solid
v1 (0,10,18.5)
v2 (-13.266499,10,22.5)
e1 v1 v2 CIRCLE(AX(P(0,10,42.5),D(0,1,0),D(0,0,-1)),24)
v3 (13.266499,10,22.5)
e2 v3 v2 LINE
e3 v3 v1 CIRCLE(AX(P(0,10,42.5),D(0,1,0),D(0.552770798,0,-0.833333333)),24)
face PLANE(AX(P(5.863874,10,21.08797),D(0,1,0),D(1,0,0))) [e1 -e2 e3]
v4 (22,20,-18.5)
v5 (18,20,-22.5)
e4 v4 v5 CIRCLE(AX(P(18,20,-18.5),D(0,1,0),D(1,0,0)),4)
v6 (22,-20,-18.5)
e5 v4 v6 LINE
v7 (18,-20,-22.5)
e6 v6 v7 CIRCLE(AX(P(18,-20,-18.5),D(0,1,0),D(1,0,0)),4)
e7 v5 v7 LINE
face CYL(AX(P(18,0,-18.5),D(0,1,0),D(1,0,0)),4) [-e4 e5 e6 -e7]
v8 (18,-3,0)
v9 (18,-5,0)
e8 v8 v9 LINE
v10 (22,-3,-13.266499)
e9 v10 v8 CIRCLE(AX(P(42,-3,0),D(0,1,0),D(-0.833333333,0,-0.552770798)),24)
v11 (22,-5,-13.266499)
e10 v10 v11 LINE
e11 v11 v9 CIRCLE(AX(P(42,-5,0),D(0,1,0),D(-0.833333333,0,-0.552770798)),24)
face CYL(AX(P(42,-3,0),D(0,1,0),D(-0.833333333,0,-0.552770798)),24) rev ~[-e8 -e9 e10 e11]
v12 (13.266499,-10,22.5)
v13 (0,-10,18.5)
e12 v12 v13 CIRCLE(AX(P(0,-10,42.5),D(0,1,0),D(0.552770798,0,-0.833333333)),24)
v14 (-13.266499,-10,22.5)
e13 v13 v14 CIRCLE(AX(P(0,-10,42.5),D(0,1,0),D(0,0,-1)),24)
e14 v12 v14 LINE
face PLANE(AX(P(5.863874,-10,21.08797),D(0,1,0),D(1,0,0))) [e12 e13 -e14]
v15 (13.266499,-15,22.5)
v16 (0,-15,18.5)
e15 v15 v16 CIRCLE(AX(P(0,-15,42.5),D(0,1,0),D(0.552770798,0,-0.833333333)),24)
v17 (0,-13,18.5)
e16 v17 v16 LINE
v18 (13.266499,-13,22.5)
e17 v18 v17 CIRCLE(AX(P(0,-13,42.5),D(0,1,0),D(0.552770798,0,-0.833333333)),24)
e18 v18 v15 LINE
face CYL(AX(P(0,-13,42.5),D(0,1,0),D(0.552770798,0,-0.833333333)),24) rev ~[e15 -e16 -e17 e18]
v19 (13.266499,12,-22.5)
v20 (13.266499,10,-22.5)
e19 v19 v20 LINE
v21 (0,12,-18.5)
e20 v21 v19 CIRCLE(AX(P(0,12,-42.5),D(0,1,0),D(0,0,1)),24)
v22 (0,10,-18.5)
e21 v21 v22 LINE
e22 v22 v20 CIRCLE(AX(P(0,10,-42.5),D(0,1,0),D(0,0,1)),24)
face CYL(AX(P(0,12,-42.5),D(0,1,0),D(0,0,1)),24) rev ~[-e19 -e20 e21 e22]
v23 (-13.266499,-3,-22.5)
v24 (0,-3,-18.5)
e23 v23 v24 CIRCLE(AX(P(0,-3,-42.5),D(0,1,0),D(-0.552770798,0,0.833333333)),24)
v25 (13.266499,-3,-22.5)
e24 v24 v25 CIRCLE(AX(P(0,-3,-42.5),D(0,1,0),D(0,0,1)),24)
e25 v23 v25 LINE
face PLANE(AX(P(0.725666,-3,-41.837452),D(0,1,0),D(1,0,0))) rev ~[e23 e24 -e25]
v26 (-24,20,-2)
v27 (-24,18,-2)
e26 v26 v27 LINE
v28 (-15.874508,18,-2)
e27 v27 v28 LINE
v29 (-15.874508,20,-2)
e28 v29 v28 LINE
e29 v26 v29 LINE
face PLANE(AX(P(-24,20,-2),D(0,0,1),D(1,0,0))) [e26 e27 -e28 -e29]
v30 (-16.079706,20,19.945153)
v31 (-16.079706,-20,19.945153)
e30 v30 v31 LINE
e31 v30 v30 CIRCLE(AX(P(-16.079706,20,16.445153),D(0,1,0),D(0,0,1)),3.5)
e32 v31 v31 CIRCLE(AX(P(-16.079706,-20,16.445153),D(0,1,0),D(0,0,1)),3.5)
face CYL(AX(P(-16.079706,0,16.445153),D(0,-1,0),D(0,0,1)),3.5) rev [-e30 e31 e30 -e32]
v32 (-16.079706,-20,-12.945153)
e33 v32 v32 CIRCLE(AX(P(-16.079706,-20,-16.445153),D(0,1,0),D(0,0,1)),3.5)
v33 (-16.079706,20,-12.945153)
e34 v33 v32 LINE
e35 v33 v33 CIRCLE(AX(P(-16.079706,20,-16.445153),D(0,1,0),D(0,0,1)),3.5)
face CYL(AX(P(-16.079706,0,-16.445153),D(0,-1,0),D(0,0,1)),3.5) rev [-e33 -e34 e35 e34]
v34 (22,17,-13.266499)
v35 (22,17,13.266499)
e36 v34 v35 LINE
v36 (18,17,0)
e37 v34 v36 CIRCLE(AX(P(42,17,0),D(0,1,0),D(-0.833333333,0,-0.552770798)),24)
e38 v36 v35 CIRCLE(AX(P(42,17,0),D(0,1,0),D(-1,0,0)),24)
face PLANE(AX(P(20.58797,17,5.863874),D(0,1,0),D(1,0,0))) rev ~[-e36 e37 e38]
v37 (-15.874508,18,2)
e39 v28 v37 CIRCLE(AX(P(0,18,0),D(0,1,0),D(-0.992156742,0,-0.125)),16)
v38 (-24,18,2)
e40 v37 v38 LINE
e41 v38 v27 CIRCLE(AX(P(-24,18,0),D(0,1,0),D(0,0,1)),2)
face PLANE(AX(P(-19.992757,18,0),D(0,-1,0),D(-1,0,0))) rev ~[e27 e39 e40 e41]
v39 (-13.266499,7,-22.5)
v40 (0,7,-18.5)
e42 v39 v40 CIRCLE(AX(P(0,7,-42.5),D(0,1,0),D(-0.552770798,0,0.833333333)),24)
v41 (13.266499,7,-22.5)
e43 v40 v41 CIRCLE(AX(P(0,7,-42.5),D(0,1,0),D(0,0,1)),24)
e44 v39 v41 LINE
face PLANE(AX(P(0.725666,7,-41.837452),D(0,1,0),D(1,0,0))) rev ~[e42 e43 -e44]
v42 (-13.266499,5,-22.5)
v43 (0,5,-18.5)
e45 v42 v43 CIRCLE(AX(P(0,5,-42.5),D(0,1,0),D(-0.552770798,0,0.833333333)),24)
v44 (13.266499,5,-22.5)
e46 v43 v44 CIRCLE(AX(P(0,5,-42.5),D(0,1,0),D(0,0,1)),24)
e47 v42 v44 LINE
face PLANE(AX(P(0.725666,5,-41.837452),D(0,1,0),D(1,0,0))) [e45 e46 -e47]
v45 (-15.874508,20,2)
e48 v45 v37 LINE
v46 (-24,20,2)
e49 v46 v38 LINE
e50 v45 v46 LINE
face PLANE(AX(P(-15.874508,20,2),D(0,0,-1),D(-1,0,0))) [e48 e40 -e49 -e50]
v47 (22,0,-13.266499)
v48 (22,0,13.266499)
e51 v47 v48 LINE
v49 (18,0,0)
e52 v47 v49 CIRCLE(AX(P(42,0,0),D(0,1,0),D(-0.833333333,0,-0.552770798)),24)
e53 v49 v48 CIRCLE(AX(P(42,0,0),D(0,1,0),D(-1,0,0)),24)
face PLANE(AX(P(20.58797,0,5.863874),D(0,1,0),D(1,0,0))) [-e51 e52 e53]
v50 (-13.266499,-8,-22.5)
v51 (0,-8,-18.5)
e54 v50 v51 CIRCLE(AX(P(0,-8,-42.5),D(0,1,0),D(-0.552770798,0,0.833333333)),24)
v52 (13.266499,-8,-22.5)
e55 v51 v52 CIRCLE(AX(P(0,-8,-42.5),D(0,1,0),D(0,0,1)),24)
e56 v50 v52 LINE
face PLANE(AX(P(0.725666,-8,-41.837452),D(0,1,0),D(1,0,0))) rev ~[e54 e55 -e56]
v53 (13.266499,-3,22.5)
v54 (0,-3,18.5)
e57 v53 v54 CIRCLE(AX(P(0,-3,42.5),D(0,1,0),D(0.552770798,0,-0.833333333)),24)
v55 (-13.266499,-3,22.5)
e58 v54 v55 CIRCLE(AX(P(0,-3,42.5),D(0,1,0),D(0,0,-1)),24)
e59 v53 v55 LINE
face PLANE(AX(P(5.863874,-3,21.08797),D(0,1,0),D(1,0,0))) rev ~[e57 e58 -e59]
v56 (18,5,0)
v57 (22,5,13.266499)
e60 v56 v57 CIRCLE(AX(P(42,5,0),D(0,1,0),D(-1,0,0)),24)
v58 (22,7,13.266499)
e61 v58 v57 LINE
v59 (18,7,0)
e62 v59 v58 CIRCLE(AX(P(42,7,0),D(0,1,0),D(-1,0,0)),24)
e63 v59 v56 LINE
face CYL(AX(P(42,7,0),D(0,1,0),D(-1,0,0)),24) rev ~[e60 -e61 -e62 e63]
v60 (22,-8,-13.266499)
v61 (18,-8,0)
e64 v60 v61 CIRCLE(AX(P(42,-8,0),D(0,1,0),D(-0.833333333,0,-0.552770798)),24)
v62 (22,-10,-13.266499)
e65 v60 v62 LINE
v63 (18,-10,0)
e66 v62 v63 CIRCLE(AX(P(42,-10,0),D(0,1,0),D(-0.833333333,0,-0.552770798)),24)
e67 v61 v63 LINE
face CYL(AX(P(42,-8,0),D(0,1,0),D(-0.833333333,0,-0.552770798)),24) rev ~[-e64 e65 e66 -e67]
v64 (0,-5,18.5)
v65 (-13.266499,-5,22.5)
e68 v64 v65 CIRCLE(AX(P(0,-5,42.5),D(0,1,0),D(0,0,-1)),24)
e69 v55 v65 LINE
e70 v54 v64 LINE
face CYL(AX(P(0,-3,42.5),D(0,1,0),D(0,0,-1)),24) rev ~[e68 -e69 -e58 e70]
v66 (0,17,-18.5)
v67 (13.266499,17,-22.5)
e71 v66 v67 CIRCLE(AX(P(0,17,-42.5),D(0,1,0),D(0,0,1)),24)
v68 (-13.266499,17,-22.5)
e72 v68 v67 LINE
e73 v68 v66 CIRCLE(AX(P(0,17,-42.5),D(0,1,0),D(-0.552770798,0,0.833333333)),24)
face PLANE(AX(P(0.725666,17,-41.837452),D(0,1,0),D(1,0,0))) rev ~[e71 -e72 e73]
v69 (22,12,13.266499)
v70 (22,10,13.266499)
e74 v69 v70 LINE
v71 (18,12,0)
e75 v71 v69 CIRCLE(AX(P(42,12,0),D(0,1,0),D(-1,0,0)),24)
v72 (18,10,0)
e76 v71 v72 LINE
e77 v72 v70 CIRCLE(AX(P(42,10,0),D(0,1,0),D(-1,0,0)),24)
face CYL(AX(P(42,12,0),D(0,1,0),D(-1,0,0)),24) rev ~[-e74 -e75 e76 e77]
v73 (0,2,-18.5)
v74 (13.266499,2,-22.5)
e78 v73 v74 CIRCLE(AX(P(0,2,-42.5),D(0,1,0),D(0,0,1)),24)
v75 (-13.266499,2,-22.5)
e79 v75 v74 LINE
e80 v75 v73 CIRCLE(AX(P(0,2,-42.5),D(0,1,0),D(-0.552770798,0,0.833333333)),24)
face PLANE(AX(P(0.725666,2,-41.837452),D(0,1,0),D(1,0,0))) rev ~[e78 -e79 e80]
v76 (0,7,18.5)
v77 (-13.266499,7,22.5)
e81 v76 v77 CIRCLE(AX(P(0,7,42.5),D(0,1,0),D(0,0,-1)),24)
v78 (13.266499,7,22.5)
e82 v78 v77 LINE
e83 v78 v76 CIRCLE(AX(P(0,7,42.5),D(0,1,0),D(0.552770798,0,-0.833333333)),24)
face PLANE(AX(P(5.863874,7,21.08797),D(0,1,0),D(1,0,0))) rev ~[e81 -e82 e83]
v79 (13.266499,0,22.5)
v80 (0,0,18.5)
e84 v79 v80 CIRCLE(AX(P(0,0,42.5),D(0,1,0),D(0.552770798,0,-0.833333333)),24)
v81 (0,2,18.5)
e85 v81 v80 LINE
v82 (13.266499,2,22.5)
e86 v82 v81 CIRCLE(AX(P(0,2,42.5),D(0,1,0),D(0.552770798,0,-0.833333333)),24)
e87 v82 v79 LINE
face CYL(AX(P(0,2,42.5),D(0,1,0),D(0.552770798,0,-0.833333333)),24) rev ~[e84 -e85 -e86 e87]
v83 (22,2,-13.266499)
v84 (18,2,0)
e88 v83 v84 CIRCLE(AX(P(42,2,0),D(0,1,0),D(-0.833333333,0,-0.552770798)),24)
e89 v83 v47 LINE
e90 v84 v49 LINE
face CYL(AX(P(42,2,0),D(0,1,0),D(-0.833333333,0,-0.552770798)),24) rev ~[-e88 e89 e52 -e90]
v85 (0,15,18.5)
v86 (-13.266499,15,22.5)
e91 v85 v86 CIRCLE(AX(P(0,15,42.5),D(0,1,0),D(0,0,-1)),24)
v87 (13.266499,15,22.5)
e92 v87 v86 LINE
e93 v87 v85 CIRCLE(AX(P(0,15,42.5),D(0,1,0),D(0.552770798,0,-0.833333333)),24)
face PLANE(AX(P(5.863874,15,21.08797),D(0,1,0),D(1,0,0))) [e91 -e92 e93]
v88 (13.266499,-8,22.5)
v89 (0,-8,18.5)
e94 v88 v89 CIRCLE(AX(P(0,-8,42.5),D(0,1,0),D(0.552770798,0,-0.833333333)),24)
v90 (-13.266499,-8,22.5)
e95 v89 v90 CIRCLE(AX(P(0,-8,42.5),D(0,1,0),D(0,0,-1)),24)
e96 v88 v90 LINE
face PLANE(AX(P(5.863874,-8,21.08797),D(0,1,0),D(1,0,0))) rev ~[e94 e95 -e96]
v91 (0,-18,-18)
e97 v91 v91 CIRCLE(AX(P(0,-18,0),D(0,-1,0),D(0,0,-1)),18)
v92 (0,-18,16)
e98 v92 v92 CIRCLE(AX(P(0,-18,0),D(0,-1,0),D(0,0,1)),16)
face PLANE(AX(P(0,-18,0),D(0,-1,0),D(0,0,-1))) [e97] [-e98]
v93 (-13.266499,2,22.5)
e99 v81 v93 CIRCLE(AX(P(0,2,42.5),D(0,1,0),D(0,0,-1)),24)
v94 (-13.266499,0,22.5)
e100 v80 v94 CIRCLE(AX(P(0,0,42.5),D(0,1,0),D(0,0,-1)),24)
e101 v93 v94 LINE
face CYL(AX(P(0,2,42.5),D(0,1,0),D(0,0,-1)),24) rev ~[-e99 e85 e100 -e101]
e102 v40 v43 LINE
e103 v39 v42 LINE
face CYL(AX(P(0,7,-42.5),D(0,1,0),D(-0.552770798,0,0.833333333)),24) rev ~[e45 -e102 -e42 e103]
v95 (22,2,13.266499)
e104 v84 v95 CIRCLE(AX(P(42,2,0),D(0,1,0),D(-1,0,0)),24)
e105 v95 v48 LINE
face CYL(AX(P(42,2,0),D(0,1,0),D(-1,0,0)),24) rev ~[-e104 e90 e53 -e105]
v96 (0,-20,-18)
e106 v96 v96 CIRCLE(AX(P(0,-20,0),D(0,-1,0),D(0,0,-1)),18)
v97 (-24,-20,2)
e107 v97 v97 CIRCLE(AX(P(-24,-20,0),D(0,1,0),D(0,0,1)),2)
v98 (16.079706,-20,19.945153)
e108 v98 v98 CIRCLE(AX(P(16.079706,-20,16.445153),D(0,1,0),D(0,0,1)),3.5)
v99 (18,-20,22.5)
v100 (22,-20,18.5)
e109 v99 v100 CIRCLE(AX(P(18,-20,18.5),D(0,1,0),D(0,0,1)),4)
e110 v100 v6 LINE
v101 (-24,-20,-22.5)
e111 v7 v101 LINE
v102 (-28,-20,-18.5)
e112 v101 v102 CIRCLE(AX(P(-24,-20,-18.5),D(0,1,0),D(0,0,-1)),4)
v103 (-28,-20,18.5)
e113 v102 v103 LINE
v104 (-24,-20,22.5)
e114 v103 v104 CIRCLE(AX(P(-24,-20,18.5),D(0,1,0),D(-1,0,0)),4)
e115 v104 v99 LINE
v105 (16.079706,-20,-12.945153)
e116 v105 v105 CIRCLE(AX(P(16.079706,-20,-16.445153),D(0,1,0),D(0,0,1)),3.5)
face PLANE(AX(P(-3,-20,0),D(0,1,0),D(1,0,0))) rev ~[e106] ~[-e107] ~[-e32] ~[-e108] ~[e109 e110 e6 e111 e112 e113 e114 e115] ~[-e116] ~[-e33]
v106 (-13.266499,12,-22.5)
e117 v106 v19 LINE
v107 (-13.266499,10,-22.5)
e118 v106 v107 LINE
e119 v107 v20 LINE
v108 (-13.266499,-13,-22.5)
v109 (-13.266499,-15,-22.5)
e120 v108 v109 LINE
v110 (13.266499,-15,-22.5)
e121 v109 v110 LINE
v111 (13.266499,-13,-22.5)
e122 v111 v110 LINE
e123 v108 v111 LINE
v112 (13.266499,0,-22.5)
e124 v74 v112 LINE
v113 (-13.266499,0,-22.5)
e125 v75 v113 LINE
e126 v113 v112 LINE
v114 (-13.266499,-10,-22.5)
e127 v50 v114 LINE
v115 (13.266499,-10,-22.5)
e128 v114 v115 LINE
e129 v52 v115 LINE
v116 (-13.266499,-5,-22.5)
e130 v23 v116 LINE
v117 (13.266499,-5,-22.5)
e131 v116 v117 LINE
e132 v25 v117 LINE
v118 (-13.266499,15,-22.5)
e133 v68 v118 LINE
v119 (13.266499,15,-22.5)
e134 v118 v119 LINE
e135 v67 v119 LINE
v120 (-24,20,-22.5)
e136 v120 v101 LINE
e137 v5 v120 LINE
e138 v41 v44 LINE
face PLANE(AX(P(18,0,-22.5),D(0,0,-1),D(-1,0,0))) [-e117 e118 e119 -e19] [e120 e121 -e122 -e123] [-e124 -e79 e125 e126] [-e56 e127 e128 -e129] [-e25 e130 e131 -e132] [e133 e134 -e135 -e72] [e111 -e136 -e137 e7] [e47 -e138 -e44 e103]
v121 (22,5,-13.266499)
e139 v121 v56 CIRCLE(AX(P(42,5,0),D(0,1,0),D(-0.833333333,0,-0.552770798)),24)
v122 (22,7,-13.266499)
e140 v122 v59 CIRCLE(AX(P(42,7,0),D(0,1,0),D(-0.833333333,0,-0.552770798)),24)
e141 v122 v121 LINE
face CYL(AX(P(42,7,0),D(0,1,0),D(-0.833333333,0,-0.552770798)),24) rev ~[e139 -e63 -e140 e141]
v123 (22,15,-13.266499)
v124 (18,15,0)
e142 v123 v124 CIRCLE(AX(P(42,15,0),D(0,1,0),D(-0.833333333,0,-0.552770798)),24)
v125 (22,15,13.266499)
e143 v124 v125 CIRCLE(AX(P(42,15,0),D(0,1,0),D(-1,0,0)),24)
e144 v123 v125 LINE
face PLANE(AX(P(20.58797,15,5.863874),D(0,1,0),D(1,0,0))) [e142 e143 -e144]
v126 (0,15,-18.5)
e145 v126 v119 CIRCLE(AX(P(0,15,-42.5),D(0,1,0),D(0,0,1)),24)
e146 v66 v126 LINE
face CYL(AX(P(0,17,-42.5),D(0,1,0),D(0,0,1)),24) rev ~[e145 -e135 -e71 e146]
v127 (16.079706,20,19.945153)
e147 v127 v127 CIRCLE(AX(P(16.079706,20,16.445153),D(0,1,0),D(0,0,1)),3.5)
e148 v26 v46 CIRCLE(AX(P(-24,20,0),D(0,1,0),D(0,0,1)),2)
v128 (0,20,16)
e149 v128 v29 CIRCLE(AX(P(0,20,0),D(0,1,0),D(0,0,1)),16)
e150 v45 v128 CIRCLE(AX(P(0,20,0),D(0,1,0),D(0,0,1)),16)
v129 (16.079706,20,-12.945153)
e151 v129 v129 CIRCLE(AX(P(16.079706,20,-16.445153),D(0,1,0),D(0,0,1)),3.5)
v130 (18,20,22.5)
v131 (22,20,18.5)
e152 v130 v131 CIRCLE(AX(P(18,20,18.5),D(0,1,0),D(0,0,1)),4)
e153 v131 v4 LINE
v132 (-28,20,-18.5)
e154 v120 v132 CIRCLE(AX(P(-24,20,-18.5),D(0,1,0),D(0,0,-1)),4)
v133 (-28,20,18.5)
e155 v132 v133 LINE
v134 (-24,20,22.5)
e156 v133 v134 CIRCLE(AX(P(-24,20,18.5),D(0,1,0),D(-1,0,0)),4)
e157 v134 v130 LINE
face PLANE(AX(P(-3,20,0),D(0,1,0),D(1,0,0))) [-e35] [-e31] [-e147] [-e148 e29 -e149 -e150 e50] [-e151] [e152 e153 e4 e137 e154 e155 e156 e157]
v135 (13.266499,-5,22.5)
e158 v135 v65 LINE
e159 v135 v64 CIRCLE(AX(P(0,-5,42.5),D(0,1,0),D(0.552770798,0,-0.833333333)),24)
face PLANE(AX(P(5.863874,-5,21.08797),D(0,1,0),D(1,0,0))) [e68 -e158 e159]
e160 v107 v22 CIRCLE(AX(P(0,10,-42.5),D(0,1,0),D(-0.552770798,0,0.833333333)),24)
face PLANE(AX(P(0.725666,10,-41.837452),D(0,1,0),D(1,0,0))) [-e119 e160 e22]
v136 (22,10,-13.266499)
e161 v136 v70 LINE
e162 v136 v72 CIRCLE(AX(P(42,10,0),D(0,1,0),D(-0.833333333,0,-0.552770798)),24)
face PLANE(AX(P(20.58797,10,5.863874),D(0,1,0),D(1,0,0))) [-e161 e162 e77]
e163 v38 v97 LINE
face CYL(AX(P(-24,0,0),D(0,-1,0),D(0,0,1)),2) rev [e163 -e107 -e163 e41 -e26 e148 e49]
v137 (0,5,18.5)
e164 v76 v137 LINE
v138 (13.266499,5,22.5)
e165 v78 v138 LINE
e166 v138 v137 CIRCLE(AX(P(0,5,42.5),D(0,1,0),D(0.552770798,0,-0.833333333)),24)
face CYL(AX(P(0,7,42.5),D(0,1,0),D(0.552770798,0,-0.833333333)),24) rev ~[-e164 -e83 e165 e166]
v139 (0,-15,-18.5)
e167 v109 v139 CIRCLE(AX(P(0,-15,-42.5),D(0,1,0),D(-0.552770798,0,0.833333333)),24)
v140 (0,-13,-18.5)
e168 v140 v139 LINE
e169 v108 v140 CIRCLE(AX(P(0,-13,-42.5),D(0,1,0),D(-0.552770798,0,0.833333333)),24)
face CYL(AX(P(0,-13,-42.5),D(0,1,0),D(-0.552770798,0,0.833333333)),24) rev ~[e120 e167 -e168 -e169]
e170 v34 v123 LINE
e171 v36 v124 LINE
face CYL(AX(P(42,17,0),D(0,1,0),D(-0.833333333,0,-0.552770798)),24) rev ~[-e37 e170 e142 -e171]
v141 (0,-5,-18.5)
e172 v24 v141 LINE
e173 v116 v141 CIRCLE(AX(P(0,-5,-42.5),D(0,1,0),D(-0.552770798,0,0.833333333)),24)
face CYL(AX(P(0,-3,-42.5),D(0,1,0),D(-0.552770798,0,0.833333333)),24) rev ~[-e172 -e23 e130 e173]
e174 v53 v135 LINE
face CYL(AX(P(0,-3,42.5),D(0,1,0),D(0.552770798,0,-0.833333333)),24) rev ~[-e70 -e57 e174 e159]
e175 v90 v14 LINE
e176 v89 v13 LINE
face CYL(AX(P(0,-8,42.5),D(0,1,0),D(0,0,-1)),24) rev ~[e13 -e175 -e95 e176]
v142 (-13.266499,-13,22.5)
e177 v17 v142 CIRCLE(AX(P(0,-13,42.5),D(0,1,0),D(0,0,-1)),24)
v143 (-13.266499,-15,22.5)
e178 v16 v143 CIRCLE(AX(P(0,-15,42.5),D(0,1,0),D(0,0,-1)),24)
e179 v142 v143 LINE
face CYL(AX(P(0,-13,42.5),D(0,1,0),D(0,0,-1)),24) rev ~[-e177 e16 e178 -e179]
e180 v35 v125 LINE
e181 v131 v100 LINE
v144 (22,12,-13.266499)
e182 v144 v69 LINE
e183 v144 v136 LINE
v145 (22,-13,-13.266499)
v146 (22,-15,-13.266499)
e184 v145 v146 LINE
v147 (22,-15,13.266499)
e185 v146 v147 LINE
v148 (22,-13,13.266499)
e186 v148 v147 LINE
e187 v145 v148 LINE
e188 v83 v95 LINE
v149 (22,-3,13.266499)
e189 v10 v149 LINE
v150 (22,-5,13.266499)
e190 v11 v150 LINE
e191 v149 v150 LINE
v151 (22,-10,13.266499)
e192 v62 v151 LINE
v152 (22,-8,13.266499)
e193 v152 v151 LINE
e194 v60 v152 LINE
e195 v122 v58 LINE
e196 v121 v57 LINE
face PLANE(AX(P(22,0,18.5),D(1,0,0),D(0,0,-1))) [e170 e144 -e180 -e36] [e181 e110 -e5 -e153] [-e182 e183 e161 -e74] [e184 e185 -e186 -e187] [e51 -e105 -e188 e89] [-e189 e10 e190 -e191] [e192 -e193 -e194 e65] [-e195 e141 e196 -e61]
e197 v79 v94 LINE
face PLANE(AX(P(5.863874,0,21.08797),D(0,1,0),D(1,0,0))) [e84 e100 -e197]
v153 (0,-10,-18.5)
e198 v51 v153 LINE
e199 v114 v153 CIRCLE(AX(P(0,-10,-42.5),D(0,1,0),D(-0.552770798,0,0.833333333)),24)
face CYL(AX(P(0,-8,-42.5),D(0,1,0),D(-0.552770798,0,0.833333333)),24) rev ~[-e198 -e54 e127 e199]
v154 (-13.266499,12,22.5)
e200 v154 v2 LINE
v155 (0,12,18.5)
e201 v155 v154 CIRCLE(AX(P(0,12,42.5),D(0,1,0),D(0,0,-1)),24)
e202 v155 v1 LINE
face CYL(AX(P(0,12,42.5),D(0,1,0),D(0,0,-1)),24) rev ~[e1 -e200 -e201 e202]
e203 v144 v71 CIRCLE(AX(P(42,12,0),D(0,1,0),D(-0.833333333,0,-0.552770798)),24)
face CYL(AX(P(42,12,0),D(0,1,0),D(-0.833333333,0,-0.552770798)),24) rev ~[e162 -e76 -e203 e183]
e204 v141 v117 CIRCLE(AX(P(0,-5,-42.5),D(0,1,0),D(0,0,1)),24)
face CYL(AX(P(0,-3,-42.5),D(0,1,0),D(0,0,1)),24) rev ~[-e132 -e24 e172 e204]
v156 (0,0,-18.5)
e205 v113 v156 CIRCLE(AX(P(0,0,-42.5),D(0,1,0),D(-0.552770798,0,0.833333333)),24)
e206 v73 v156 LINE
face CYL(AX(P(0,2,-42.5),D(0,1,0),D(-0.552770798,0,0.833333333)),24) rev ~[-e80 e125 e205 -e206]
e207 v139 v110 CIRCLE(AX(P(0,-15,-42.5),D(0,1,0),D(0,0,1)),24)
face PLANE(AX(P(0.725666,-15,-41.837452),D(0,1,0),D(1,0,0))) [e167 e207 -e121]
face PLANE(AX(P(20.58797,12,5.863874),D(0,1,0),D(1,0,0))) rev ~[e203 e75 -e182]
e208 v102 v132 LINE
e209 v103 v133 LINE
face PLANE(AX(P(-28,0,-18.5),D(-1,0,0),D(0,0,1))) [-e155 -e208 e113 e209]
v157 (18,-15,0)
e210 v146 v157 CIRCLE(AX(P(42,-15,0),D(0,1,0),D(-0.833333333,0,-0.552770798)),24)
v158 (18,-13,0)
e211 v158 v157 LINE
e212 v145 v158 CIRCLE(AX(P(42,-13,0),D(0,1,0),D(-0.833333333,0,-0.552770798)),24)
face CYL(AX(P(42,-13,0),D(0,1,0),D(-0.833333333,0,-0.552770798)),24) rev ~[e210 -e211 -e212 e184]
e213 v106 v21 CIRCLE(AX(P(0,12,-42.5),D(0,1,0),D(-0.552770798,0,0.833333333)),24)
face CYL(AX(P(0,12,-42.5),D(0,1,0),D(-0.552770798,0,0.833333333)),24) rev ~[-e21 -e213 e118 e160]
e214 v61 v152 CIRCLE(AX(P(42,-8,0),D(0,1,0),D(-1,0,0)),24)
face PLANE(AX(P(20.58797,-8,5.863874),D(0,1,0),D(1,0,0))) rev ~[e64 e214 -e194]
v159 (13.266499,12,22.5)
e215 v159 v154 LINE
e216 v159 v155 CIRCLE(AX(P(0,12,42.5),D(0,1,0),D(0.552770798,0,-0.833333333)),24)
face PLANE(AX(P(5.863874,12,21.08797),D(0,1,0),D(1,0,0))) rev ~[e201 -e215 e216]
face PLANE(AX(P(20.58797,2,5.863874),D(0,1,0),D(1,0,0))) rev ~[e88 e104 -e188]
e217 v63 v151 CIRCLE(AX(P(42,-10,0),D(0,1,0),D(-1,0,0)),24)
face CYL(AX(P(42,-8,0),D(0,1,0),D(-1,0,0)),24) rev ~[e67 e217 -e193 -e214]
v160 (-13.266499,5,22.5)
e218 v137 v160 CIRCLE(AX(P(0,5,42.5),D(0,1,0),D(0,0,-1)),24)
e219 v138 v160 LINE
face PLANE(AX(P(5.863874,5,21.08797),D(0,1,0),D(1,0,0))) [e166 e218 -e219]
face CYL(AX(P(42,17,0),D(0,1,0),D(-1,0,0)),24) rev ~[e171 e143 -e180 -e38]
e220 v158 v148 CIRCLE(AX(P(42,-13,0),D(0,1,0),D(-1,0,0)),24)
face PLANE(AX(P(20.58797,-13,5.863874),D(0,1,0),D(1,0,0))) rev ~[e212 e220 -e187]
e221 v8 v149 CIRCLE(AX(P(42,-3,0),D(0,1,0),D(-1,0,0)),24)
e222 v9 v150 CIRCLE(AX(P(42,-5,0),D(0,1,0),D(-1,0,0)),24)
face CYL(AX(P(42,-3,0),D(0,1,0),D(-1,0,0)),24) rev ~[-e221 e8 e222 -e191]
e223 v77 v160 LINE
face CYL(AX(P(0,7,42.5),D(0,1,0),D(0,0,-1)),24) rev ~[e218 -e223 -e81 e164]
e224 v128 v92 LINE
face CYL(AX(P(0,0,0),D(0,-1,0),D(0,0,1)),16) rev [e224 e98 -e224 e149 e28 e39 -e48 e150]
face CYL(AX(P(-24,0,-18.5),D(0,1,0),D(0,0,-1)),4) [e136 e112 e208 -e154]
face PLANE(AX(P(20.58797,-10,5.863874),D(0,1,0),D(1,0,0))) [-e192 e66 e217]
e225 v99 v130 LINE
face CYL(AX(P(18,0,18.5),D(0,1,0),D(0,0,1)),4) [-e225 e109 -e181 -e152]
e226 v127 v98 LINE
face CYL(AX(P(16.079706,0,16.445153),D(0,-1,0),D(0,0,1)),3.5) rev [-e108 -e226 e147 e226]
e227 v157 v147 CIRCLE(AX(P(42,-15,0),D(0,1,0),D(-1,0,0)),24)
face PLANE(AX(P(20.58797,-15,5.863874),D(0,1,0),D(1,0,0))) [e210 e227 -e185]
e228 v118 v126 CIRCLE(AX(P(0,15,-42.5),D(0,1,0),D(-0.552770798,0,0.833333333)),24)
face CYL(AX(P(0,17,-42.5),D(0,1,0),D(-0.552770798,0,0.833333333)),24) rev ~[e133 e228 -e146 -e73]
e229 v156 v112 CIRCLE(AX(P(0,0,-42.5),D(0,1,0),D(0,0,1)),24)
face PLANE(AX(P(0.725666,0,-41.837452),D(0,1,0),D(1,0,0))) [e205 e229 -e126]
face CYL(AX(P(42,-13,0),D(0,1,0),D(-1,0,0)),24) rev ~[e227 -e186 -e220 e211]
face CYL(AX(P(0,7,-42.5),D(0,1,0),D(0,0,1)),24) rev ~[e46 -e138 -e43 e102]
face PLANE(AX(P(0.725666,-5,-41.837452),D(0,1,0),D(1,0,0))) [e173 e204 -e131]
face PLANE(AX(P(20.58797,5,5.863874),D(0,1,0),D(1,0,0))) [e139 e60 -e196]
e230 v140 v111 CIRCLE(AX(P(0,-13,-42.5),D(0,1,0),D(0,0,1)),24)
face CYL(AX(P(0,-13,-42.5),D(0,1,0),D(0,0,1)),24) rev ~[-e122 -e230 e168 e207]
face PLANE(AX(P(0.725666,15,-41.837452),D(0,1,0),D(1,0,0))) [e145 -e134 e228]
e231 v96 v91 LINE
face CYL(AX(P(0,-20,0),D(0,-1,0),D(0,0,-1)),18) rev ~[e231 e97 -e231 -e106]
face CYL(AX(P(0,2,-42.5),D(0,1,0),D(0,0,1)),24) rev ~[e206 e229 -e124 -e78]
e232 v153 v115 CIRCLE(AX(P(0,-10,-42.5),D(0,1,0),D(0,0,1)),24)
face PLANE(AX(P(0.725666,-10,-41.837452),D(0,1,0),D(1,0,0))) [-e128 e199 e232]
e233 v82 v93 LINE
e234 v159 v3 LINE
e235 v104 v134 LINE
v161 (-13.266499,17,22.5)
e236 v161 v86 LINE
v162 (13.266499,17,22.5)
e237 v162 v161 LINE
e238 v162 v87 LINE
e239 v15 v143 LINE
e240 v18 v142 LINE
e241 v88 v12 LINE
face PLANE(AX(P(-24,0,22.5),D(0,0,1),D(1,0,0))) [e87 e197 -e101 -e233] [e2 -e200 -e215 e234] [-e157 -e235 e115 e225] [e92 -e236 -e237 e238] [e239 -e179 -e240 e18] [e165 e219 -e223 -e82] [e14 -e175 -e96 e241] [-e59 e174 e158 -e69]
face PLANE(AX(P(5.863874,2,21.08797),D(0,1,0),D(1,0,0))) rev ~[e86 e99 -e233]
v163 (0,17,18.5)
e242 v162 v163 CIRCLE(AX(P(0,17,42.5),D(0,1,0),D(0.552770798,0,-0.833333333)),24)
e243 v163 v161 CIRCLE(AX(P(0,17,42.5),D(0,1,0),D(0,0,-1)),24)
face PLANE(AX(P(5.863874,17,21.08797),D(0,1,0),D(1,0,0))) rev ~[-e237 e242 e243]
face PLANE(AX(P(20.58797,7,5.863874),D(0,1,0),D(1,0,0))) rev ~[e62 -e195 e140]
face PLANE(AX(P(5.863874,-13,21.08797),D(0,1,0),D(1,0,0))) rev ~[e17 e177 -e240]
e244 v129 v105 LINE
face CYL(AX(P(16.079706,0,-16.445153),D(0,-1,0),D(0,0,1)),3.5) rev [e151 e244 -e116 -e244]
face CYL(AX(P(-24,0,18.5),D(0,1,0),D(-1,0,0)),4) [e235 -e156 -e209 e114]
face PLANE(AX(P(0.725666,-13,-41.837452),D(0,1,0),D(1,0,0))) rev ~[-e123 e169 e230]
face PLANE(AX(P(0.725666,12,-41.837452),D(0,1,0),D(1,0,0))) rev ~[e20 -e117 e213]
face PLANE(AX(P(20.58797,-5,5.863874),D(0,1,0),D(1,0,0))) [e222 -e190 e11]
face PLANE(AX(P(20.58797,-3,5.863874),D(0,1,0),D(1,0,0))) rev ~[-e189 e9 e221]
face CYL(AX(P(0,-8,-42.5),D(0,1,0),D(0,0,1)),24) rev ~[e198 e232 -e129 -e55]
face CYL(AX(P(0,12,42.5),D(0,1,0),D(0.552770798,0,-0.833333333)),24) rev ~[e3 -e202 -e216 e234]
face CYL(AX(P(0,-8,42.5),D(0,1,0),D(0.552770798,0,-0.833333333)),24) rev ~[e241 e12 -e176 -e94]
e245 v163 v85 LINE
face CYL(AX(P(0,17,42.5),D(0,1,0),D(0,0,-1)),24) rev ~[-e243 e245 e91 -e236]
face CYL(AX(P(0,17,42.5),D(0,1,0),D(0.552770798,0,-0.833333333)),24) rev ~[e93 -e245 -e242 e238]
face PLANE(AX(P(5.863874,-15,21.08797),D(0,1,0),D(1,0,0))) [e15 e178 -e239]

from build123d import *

# Parameters (mm, degrees)
SKETCH1_R           = 2
SKETCH1_R_2         = 3.5
SKETCH1_R_3         = 16
BOSS_EXTRUDE1_DEPTH = 20
CUT_EXTRUDE1_DEPTH  = 2
CUT_EXTRUDE2_START  = -3
CUT_EXTRUDE2_DEPTH  = 2
LPATTERN1_COUNT     = 7
LPATTERN1_PITCH     = 5
SKETCH2_R           = 18
SKETCH2_R_2         = 16
CUT_EXTRUDE3_DEPTH  = 2


with BuildPart() as part:
    # Sketch1 → Boss-Extrude1 (new, symmetric)
    with BuildSketch(Plane(origin=(0, 0, 0), x_dir=(1, 0, 0), z_dir=(0, 1, 0))):
        with BuildLine():
            Line((-22, 22.5), (-24, 22.5))
            ThreePointArc((-24, 22.5), (-26.828427125, 21.328427125), (-28, 18.5))
            Line((-28, 18.5), (-28, -18.5))
            ThreePointArc((-28, -18.5), (-26.828427125, -21.328427125), (-24, -22.5))
            Line((-24, -22.5), (-22, -22.5))
            Line((-22, -22.5), (18, -22.5))
            ThreePointArc((18, -22.5), (20.828427125, -21.328427125), (22, -18.5))
            Line((22, -18.5), (22, 18.5))
            ThreePointArc((22, 18.5), (20.828427125, 21.328427125), (18, 22.5))
            Line((18, 22.5), (-22, 22.5))
        make_face()
        with Locations(Location((-24, 0, 0), (0, 0, 270))):
            Circle(SKETCH1_R, mode=Mode.SUBTRACT)
        with Locations(Location((16.079705534, 16.445153387, 0), (0, 0, 270))):
            Circle(SKETCH1_R_2, mode=Mode.SUBTRACT)
        with Locations(Location((-16.079705534, 16.445153387, 0), (0, 0, 270))):
            Circle(SKETCH1_R_2, mode=Mode.SUBTRACT)
        with Locations(Location((-16.079705534, -16.445153387, 0), (0, 0, 270))):
            Circle(SKETCH1_R_2, mode=Mode.SUBTRACT)
        with Locations(Location((16.079705534, -16.445153387, 0), (0, 0, 270))):
            Circle(SKETCH1_R_2, mode=Mode.SUBTRACT)
        with Locations(Location((0, 0, 0), (0, 0, 270))):
            Circle(SKETCH1_R_3, mode=Mode.SUBTRACT)
    extrude(amount=BOSS_EXTRUDE1_DEPTH, both=True)

    # Sketch3 → Cut-Extrude1 (cut)
    with BuildSketch(Plane(origin=(0, 20, 0), x_dir=(1, 0, 0), z_dir=(0, 1, 0))):
        with BuildLine():
            Line((-24, 2), (-15.874507866, 2))
            ThreePointArc((-15.874507866, 2), (-16, 0), (-15.874507866, -2))
            Line((-15.874507866, -2), (-24, -2))
            ThreePointArc((-24, -2), (-22, 0), (-24, 2))
        make_face()
    extrude(amount=-CUT_EXTRUDE1_DEPTH, mode=Mode.SUBTRACT)

    # Sketch5 → Cut-Extrude2 (cut)
    with BuildSketch(Plane(origin=(0, 20, 0), x_dir=(1, 0, 0), z_dir=(0, 1, 0)).offset(CUT_EXTRUDE2_START)):
        with BuildLine():
            ThreePointArc((13.266499161, -22.5), (6.92820323, -19.521749414), (0, -18.5))
            Line((0, -18.5), (0, -22.5))
            Line((0, -22.5), (13.266499161, -22.5))
        make_face()
        with BuildLine():
            Line((0, -22.5), (0, -18.5))
            ThreePointArc((0, -18.5), (-6.92820323, -19.521749414), (-13.266499161, -22.5))
            Line((-13.266499161, -22.5), (0, -22.5))
        make_face()
        with BuildLine():
            Line((13.266499161, -22.5), (0, -22.5))
            Line((0, -22.5), (-13.266499161, -22.5))
            ThreePointArc((-13.266499161, -22.5), (-11.349097324, -63.647056295), (24, -42.5))
            ThreePointArc((24, -42.5), (21.147056295, -31.150902676), (13.266499161, -22.5))
        make_face()
        with BuildLine():
            ThreePointArc((18, 0), (19.021749414, -6.92820323), (22, -13.266499161))
            Line((22, -13.266499161), (22, 0))
            Line((22, 0), (18, 0))
        make_face()
        with BuildLine():
            Line((22, 0), (22, -13.266499161))
            ThreePointArc((22, -13.266499161), (48.92820323, -22.978250586), (66, 0))
            ThreePointArc((66, 0), (48.92820323, 22.978250586), (22, 13.266499161))
            Line((22, 13.266499161), (22, 0))
        make_face()
        with BuildLine():
            Line((18, 0), (22, 0))
            Line((22, 0), (22, 13.266499161))
            ThreePointArc((22, 13.266499161), (19.021749414, 6.92820323), (18, 0))
        make_face()
        with BuildLine():
            ThreePointArc((24, 42.5), (-11.349097324, 63.647056295), (-13.266499161, 22.5))
            Line((-13.266499161, 22.5), (0, 22.5))
            Line((0, 22.5), (13.266499161, 22.5))
            ThreePointArc((13.266499161, 22.5), (21.147056295, 31.150902676), (24, 42.5))
        make_face()
        with BuildLine():
            Line((0, 22.5), (-13.266499161, 22.5))
            ThreePointArc((-13.266499161, 22.5), (-6.92820323, 19.521749414), (0, 18.5))
            Line((0, 18.5), (0, 22.5))
        make_face()
        with BuildLine():
            Line((13.266499161, 22.5), (0, 22.5))
            Line((0, 22.5), (0, 18.5))
            ThreePointArc((0, 18.5), (6.92820323, 19.521749414), (13.266499161, 22.5))
        make_face()
    cut_extrude2 = extrude(amount=-CUT_EXTRUDE2_DEPTH, mode=Mode.SUBTRACT)

    # LPattern1: Cut-Extrude2 ×7
    with Locations(*[(0, -i * LPATTERN1_PITCH, 0) for i in range(1, LPATTERN1_COUNT)]):
        add(cut_extrude2, mode=Mode.SUBTRACT)

    # Sketch2 → Cut-Extrude3 (cut)
    with BuildSketch(Plane.XZ.offset(20)):
        with Locations(Location((0, 0, 0), (0, 0, 270))):
            Circle(SKETCH2_R)
        with Locations(Location((0, 0, 0), (0, 0, 270))):
            Circle(SKETCH2_R_2, mode=Mode.SUBTRACT)
    extrude(amount=-CUT_EXTRUDE3_DEPTH, mode=Mode.SUBTRACT)


solid = part.part
